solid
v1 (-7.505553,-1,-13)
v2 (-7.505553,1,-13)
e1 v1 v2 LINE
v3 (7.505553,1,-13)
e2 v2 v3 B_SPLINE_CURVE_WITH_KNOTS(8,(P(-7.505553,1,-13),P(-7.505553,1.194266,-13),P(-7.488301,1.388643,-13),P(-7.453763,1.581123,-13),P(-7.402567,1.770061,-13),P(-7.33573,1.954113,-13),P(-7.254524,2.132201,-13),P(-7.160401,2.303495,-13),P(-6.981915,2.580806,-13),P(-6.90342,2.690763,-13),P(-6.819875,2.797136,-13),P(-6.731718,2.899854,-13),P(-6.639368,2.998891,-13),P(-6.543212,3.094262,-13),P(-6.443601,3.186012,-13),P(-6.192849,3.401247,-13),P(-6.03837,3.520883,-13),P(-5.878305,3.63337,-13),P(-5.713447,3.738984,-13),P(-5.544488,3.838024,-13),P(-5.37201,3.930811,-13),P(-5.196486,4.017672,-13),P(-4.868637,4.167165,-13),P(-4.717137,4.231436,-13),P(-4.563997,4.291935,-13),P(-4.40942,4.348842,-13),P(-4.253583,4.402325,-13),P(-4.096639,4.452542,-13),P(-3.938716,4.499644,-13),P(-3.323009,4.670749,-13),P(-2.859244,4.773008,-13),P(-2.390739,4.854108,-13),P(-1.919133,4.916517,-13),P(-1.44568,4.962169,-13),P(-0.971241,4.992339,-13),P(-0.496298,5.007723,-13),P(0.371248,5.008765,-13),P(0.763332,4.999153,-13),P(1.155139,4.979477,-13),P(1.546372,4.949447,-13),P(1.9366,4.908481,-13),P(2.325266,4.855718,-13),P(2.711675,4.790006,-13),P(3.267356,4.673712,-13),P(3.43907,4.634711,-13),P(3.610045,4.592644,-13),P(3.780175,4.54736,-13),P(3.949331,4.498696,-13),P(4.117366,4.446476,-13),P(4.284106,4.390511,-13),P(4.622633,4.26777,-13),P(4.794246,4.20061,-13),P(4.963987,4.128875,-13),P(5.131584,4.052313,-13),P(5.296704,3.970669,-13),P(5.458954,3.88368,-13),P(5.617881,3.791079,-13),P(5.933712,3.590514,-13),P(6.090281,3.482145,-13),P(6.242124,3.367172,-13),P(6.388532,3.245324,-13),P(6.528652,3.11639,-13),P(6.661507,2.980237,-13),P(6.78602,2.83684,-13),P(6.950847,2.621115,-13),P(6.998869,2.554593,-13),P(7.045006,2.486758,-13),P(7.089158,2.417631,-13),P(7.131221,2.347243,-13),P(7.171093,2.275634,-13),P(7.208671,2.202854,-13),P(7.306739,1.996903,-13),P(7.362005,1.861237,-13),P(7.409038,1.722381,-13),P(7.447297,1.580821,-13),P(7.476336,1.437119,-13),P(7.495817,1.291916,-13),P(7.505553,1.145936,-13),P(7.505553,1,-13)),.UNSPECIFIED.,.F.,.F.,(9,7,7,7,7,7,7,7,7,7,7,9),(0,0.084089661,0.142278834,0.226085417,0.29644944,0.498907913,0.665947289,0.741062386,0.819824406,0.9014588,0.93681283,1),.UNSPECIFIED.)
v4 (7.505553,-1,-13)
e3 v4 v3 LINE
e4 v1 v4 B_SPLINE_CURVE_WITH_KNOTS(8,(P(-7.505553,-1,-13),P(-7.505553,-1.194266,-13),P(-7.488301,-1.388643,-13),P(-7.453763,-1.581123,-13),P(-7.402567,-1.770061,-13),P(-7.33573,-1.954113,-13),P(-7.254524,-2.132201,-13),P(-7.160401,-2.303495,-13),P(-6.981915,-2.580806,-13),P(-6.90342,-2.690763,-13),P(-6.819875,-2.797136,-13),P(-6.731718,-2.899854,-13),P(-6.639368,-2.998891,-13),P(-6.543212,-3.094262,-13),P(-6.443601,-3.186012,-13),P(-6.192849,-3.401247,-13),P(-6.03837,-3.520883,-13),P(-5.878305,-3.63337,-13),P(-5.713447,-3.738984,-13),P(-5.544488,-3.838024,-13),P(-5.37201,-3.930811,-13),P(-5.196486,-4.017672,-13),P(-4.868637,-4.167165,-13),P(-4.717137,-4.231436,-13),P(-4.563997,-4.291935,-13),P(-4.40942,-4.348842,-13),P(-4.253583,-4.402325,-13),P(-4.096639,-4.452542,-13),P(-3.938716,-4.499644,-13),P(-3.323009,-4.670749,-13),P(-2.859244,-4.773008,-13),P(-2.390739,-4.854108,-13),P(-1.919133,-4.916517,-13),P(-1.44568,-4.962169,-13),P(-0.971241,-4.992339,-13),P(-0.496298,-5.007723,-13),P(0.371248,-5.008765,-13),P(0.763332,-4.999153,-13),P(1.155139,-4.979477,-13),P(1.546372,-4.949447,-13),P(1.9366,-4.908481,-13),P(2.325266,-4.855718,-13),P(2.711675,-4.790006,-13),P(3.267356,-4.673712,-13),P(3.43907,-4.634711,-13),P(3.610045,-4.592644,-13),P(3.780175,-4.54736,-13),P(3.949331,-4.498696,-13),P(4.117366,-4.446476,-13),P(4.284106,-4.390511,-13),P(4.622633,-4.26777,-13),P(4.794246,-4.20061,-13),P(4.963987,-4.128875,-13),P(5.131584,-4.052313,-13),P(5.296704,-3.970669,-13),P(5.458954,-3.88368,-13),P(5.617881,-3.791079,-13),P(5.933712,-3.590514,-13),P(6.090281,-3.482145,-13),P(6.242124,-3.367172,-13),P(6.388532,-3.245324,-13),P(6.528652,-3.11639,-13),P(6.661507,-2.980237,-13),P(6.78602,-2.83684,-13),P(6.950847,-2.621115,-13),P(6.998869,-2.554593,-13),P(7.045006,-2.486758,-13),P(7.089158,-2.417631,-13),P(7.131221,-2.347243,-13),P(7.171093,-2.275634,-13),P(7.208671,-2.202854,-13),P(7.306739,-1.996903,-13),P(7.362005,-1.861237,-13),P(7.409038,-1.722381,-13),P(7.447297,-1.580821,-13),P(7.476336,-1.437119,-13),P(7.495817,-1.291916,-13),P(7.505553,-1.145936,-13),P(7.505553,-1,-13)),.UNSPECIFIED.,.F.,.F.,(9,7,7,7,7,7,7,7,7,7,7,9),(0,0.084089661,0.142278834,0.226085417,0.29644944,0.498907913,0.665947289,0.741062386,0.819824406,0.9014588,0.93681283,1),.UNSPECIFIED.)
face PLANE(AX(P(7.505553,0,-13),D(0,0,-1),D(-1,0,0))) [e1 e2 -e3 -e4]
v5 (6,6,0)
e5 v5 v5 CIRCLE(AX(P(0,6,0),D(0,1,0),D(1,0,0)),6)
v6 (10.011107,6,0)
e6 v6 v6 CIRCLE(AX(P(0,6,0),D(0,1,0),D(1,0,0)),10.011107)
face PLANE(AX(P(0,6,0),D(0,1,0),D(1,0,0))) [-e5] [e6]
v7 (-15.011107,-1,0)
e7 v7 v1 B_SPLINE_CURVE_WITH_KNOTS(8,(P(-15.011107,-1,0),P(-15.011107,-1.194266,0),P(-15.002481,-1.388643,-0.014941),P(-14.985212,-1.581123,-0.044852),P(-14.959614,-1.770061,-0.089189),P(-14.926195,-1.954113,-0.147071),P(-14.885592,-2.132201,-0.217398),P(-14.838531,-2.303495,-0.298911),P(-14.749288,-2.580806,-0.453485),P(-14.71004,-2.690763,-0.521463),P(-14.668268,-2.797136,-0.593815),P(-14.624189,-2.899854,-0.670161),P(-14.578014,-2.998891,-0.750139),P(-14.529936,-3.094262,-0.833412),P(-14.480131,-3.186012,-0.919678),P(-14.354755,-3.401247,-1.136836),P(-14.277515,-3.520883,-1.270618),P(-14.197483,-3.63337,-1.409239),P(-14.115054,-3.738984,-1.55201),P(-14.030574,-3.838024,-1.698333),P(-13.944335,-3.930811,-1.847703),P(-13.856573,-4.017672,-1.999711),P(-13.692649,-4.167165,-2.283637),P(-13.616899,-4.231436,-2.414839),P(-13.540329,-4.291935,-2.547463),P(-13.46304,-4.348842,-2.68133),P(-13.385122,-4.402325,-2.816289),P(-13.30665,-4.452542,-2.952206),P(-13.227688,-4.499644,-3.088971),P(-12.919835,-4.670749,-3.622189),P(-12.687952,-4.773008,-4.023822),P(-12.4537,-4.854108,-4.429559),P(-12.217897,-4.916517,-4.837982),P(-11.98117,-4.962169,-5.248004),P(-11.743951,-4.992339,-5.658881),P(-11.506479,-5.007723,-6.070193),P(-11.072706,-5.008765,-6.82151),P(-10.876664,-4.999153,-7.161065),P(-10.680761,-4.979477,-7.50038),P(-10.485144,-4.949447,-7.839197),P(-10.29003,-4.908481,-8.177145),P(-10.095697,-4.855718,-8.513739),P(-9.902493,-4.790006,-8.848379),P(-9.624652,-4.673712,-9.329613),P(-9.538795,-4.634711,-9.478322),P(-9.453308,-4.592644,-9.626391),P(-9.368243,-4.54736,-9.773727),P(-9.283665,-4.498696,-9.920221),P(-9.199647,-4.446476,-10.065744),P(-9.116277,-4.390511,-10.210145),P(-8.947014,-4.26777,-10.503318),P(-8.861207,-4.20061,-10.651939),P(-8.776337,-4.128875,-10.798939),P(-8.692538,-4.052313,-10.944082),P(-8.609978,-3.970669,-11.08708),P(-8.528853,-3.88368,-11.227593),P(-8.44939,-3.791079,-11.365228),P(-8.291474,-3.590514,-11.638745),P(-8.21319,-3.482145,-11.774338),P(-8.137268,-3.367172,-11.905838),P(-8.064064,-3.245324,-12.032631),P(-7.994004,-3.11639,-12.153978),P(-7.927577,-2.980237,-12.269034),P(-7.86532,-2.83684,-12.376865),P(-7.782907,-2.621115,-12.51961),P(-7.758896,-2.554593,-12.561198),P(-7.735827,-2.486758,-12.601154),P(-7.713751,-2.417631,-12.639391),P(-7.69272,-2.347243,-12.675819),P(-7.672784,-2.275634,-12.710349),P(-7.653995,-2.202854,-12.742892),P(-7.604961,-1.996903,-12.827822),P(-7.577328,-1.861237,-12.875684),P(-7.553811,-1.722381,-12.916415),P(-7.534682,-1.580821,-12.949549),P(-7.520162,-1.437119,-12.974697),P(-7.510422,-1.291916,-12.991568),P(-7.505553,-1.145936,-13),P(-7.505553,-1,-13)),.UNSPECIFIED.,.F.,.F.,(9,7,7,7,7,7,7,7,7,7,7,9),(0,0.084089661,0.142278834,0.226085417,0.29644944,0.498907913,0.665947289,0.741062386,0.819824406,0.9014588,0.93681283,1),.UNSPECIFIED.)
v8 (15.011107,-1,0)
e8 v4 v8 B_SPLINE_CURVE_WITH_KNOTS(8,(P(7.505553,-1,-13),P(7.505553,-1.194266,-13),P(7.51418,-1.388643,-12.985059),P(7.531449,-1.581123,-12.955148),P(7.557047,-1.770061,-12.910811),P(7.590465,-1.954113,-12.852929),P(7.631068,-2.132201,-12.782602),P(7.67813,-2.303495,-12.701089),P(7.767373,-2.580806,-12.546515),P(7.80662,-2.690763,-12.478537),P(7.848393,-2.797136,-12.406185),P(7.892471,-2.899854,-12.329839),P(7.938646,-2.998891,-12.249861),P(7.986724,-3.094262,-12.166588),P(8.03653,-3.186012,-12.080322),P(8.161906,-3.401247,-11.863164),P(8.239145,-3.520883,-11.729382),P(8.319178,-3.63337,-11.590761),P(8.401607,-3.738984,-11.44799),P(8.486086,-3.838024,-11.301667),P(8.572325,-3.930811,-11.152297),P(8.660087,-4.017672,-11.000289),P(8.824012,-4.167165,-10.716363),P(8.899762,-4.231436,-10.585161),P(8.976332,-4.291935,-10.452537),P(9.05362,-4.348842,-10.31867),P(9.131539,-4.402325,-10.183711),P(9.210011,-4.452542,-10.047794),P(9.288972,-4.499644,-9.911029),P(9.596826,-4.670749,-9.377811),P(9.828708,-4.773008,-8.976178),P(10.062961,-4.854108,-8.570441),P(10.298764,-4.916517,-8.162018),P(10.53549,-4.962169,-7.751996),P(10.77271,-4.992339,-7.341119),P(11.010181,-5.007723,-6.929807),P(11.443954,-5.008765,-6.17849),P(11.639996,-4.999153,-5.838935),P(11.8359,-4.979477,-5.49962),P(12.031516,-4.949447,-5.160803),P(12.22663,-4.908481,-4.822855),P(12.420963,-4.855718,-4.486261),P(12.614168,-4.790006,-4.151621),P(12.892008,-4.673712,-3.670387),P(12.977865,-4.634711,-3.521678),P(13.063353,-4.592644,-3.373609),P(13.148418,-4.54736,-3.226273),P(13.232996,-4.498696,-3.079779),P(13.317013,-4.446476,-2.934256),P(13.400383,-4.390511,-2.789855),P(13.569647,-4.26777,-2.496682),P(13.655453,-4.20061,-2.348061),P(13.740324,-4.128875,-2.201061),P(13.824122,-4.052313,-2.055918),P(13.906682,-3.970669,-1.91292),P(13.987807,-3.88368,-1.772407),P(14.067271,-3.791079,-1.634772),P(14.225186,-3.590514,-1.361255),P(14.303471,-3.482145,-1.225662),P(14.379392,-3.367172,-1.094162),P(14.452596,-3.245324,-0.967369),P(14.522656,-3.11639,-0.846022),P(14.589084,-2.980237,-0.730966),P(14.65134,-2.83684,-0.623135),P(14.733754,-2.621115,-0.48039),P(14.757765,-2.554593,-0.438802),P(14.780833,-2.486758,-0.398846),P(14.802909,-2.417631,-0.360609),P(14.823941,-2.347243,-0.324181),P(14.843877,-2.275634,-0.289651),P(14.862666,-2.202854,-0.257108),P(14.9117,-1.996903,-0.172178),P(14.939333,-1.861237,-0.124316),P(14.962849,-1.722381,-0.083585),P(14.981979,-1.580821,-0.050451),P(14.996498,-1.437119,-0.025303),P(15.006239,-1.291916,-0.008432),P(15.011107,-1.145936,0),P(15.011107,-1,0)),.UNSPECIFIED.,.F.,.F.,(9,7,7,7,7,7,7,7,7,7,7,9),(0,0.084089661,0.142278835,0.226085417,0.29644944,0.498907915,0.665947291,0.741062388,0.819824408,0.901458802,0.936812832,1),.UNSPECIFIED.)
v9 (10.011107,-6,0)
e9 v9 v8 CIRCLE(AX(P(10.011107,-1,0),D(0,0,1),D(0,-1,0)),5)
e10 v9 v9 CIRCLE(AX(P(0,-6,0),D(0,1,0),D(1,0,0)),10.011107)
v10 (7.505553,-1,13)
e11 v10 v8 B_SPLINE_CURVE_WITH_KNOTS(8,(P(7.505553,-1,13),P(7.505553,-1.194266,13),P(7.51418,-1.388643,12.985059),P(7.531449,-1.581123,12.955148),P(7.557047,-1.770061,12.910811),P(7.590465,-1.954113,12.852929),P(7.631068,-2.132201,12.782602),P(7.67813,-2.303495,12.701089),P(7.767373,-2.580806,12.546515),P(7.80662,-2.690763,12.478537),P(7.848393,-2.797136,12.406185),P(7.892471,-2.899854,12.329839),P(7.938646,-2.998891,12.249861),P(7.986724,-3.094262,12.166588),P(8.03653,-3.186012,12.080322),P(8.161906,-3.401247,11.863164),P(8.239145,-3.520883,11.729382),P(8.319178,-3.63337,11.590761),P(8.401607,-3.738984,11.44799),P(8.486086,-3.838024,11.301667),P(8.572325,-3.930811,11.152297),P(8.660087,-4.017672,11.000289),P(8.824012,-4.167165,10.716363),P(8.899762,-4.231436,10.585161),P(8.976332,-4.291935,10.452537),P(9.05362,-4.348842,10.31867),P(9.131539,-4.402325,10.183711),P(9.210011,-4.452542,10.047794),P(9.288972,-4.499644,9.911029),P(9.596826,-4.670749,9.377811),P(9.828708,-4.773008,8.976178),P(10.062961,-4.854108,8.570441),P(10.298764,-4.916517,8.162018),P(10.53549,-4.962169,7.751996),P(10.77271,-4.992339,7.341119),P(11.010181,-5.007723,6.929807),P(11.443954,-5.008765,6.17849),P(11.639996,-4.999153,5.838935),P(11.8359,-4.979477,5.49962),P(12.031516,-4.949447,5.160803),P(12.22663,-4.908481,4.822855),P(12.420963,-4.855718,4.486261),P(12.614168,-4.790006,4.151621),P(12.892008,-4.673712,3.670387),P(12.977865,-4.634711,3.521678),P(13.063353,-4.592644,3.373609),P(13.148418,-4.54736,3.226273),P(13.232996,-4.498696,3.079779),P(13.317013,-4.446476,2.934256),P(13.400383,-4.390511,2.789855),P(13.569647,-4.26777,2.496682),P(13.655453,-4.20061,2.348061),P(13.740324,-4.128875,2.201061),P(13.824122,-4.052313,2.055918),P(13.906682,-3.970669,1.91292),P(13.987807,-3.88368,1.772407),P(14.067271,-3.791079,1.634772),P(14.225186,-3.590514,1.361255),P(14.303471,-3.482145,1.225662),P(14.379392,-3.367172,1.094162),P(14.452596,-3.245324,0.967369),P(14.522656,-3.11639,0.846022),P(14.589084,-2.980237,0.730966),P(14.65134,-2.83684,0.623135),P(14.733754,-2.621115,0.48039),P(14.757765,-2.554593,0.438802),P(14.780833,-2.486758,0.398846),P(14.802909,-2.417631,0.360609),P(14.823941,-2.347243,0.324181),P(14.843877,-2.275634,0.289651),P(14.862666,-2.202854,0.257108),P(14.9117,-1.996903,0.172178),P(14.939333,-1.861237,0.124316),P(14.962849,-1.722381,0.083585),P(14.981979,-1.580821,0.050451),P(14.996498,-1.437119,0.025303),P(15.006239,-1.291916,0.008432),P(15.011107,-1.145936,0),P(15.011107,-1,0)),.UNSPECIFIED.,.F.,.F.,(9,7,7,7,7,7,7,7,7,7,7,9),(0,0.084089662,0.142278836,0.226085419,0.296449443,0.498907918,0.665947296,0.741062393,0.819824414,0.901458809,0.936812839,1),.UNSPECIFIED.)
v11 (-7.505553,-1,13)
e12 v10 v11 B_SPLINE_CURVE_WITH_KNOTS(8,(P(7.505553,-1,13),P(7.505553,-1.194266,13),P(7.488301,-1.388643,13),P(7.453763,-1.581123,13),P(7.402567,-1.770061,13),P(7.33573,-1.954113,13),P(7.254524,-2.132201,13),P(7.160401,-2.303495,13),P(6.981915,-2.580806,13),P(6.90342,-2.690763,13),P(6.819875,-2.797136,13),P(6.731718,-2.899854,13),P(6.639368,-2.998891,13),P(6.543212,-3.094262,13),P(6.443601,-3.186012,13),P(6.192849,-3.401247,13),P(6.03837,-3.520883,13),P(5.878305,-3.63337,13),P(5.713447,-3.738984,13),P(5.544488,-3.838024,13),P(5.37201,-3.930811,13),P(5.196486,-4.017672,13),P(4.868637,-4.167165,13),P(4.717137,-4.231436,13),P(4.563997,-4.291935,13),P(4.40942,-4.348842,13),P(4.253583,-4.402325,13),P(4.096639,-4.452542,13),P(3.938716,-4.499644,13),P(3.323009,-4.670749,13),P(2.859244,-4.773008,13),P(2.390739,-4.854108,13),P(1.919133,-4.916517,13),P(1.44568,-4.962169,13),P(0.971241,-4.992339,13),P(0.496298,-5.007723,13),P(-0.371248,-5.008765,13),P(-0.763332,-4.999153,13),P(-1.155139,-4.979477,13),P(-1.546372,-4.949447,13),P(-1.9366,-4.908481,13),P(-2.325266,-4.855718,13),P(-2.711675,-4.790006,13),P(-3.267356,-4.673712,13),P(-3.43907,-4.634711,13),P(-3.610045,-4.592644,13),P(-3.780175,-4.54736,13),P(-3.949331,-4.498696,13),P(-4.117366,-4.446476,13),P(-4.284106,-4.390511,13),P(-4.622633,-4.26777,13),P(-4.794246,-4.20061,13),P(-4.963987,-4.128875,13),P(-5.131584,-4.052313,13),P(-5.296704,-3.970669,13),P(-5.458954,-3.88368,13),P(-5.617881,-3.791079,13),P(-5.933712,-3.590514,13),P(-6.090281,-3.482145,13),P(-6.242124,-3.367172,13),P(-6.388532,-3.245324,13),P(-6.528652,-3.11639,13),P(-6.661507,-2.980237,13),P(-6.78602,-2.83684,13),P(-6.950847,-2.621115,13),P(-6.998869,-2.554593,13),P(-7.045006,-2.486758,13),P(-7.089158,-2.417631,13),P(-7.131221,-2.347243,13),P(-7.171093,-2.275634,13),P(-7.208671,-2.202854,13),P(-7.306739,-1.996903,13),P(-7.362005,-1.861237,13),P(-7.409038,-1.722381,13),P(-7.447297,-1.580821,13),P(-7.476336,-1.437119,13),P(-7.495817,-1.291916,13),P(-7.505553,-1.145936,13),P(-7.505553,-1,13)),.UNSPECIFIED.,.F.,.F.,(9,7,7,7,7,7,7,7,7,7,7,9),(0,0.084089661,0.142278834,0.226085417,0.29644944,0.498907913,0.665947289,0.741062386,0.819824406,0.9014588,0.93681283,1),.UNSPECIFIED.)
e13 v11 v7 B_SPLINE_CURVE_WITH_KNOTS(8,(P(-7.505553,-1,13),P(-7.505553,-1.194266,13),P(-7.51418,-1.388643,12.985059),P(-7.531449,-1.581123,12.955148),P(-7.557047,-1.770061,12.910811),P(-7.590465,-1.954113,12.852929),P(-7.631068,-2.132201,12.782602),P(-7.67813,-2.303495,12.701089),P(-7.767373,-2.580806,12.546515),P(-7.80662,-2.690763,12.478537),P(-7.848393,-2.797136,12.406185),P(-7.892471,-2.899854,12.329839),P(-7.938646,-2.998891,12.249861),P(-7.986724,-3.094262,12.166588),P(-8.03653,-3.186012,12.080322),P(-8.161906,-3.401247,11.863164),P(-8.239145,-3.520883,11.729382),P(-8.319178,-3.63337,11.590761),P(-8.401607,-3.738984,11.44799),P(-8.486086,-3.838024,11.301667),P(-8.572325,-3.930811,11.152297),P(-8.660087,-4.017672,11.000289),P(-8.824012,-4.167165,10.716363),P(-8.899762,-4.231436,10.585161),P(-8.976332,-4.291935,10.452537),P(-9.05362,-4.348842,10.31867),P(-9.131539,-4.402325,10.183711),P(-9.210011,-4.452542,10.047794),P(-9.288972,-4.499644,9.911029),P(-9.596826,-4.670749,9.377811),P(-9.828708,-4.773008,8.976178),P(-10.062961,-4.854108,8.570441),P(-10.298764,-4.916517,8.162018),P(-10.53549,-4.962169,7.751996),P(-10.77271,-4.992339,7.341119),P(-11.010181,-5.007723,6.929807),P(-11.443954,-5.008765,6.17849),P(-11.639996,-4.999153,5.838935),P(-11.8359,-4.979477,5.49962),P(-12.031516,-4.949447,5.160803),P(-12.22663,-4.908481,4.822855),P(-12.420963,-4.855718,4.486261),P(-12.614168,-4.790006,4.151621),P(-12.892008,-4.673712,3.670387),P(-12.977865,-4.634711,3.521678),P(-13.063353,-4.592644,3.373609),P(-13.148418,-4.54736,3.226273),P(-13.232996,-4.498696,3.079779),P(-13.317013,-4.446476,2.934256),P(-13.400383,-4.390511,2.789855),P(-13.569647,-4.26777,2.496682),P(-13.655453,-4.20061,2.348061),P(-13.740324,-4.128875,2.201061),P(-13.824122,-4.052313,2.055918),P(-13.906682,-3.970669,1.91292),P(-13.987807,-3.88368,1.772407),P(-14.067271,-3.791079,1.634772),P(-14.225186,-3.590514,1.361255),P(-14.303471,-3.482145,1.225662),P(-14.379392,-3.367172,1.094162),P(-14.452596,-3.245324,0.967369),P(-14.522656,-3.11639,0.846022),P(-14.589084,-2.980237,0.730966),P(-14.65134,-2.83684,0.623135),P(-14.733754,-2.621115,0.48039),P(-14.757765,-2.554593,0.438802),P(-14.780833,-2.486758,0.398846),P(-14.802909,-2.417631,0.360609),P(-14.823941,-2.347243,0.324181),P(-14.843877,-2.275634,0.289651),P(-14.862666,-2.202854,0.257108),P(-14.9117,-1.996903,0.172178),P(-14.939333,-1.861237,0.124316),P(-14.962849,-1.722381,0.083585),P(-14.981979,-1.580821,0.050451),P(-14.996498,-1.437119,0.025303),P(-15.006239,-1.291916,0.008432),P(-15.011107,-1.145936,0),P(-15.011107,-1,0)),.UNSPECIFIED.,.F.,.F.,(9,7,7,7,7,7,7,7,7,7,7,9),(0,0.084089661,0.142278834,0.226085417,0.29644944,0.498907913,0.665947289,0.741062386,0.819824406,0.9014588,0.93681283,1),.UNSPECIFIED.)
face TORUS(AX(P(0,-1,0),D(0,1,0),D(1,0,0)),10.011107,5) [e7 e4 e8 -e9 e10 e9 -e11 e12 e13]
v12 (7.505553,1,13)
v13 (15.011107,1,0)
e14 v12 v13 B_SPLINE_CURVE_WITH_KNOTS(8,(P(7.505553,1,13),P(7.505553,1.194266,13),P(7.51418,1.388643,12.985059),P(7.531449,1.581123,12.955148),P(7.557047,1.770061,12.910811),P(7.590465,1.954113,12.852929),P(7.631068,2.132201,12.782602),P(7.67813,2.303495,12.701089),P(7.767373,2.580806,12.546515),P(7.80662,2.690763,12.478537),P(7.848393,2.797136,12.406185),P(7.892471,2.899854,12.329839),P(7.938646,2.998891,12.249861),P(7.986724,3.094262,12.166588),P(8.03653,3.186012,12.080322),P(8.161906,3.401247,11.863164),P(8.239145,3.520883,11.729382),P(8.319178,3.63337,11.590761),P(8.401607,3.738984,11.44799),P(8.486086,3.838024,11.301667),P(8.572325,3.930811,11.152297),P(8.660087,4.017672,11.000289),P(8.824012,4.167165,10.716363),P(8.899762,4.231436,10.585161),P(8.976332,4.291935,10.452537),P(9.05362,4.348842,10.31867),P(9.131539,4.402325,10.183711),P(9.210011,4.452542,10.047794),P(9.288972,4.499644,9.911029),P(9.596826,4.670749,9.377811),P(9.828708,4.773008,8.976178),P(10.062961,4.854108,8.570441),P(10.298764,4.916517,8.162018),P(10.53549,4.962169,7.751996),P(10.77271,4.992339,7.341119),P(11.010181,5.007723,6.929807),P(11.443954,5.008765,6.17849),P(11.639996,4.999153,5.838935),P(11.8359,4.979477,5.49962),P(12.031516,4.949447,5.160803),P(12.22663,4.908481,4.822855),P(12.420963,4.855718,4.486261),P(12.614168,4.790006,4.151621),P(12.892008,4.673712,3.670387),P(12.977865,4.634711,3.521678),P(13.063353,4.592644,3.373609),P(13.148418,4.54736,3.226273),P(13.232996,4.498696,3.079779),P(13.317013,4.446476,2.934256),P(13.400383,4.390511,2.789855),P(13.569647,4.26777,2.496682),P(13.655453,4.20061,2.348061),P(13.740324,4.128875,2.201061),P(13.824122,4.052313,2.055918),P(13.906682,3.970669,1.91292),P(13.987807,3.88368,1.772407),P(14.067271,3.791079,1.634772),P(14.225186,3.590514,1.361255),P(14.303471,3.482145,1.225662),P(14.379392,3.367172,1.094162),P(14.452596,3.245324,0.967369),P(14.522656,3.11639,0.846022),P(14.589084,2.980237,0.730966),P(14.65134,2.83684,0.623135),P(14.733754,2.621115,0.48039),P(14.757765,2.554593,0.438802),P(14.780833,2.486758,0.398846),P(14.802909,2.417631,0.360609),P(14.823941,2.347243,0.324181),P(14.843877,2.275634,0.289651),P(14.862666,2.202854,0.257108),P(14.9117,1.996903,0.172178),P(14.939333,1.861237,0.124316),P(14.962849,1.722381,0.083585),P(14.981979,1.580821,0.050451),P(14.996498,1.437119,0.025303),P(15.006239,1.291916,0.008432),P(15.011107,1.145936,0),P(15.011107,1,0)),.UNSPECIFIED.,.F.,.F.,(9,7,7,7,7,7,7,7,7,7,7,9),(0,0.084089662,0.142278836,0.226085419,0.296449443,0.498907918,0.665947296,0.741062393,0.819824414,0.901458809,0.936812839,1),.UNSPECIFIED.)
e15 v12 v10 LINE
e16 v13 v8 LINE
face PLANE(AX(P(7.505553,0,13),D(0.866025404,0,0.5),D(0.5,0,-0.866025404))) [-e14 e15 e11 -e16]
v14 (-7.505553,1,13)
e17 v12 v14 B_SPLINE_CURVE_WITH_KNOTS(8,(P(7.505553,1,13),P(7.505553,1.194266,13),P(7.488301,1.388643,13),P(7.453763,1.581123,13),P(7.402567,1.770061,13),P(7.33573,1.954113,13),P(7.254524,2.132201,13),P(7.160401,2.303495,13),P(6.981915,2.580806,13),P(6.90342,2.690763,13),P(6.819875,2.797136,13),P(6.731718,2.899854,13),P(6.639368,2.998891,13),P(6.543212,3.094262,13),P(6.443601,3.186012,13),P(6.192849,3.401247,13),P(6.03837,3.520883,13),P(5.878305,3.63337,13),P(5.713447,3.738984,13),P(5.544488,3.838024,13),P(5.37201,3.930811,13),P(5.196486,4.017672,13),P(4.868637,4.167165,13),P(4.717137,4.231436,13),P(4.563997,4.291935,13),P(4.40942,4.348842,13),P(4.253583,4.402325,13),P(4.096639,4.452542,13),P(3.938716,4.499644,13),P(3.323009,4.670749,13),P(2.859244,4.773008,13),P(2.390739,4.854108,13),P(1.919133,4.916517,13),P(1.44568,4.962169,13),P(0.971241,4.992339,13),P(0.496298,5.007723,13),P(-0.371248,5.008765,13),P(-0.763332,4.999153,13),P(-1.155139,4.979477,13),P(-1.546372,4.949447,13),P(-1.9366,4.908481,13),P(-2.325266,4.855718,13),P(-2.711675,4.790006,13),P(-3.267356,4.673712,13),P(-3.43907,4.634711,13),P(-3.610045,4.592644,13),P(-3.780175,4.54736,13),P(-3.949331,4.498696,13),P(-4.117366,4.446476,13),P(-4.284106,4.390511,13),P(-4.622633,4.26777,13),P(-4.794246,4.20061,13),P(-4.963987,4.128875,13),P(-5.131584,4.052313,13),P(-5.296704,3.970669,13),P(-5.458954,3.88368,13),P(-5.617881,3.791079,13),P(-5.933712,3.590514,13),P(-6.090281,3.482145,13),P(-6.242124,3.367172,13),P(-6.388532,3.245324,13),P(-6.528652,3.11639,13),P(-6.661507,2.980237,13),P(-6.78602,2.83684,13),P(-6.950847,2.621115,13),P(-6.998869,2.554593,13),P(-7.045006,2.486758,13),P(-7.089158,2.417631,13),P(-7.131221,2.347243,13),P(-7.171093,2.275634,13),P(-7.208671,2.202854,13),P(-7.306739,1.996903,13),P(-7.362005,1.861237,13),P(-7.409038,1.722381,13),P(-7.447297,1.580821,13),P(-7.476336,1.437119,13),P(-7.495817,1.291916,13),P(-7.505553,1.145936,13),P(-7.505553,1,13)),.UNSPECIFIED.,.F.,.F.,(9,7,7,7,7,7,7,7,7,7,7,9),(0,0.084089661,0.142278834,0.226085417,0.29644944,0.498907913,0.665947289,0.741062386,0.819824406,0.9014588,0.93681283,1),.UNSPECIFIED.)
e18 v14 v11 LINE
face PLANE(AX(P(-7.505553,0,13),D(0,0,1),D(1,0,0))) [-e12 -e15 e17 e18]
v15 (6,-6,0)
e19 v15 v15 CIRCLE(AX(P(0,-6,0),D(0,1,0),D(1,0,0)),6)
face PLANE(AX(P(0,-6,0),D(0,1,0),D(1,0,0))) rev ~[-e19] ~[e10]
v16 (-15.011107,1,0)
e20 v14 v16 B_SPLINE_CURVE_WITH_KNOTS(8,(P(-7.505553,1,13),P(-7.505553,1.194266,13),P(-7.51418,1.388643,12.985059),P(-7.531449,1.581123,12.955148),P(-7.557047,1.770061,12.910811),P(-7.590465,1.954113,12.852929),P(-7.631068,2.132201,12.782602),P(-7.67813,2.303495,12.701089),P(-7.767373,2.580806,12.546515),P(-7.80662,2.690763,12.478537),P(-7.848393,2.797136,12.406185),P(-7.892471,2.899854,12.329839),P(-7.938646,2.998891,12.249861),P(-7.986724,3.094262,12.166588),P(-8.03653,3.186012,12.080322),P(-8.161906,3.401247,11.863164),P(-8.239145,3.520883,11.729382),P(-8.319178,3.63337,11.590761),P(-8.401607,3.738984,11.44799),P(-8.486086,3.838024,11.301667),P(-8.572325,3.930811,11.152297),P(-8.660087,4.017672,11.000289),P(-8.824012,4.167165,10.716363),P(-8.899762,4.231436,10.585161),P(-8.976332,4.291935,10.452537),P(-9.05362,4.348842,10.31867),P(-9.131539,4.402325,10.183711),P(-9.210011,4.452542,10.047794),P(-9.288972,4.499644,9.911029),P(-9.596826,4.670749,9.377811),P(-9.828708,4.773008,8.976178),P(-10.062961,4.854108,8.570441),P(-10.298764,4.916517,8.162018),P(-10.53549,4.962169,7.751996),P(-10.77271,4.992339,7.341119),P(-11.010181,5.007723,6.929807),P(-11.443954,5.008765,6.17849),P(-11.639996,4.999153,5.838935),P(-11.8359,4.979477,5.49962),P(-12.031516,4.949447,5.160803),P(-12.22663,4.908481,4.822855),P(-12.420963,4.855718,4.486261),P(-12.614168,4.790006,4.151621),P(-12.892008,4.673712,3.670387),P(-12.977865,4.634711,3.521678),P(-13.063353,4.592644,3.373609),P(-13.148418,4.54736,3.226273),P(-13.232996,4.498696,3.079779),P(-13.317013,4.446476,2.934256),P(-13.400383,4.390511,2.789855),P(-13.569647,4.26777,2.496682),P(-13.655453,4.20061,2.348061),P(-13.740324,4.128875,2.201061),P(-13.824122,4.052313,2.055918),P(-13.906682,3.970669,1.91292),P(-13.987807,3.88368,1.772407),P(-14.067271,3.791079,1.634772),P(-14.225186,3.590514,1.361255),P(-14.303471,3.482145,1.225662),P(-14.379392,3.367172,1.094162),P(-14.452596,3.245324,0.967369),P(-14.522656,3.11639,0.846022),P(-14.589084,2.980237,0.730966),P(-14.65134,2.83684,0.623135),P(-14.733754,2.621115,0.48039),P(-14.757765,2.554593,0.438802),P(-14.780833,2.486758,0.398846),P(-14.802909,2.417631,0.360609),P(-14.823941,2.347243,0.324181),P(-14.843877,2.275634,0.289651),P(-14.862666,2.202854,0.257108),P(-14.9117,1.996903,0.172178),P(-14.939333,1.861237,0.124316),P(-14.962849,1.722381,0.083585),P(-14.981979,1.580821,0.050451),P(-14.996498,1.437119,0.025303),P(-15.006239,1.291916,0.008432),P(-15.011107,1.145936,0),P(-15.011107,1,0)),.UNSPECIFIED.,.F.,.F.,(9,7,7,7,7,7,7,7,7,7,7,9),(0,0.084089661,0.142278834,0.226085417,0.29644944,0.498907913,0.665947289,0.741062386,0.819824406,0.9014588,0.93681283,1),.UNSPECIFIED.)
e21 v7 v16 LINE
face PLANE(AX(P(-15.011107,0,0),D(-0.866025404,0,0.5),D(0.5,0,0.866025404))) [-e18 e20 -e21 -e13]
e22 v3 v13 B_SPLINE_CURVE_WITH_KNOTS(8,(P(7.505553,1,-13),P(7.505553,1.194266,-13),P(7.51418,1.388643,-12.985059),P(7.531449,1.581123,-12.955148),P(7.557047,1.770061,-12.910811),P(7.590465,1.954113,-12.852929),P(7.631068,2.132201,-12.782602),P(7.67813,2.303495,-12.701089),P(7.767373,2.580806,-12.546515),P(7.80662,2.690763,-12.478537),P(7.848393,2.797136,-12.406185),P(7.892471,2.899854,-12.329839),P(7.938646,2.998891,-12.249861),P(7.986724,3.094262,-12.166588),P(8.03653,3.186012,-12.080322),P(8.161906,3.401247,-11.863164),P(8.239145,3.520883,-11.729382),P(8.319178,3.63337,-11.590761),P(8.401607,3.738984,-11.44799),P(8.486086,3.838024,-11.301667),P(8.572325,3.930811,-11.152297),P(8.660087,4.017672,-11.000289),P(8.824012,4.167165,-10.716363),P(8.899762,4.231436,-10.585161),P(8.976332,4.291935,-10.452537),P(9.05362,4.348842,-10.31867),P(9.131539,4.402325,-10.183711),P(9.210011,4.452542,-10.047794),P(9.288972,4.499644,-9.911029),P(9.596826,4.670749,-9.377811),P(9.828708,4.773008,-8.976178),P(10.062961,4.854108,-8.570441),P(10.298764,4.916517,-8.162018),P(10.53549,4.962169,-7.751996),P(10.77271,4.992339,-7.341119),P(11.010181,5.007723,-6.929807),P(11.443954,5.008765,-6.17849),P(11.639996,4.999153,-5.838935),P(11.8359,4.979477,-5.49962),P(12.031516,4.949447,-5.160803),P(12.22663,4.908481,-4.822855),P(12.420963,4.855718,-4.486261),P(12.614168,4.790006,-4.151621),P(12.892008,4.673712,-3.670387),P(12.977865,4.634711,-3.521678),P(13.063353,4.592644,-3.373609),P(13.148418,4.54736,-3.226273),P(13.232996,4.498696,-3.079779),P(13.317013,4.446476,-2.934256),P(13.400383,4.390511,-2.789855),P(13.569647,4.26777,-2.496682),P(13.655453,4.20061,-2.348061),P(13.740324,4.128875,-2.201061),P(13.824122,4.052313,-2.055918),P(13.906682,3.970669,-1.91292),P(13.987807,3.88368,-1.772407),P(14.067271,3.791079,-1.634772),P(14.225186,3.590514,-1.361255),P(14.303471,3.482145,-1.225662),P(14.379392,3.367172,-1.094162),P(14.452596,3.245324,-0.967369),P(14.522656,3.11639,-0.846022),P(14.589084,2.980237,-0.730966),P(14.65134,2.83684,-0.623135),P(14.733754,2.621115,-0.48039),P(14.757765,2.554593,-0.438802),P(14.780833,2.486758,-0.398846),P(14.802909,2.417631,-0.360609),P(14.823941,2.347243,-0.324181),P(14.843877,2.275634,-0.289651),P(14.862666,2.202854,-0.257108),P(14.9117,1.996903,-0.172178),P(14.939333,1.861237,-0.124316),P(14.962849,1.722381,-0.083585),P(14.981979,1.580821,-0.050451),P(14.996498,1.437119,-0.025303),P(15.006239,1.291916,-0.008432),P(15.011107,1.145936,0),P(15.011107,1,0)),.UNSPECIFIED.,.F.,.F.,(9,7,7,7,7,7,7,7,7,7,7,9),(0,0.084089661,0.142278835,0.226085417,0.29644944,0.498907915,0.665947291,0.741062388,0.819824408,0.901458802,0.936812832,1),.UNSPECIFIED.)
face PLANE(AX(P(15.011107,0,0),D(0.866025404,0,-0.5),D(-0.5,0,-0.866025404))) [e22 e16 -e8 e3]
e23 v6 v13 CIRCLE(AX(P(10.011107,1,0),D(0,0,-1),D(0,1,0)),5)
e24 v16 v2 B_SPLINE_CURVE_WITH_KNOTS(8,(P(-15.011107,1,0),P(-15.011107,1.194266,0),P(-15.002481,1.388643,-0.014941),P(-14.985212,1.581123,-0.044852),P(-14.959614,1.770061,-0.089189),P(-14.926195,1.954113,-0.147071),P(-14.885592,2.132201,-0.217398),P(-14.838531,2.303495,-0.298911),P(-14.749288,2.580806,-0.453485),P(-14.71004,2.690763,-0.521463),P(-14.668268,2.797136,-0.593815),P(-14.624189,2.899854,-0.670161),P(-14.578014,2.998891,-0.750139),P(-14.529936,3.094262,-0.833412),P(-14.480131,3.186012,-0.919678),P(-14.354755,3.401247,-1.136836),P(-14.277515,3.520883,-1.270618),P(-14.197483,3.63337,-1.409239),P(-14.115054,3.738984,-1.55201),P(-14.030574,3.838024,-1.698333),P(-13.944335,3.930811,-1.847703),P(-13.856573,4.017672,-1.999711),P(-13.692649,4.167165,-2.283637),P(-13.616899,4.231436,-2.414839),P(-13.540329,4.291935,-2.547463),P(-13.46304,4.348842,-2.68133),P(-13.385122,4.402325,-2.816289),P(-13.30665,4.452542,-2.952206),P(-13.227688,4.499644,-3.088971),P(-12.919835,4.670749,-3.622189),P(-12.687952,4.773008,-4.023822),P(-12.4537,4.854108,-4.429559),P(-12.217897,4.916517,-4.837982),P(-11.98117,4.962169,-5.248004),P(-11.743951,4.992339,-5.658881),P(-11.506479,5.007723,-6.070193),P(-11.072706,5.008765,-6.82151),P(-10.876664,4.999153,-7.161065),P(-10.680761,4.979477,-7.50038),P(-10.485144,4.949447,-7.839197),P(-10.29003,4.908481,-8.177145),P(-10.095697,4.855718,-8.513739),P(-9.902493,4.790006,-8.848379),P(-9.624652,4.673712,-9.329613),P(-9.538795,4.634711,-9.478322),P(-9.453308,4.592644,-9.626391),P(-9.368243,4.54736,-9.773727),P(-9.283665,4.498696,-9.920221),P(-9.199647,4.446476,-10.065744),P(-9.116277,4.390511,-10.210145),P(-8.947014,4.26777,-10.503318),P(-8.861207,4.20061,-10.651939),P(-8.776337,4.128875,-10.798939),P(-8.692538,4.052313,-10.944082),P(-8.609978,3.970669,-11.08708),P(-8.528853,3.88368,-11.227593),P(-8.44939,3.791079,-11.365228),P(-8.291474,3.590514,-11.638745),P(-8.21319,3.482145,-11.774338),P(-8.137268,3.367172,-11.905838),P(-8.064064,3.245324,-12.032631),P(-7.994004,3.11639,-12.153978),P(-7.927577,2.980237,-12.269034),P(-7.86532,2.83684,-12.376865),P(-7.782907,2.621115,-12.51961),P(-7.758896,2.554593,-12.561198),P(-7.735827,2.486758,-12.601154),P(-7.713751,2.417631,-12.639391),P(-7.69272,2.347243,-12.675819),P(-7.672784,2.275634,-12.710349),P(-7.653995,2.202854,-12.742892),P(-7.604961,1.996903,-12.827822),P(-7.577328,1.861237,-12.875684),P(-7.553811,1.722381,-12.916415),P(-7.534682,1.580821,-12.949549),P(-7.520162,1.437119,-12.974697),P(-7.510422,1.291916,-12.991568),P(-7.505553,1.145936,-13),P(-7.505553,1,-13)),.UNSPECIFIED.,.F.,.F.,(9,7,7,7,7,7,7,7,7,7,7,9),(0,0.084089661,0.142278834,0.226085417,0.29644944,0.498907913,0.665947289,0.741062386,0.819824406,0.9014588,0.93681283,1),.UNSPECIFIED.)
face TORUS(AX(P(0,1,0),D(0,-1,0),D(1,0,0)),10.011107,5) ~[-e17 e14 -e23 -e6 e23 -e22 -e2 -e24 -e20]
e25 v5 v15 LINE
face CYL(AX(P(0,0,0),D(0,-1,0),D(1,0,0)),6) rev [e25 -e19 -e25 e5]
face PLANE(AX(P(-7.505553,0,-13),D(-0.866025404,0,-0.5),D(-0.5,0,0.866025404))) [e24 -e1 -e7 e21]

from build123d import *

# Parameters (mm, degrees)
SKETCH1_R           = 6
BOSS_EXTRUDE1_DEPTH = 6


with BuildPart() as part:
    # Sketch1 → Boss-Extrude1 (new body, symmetric)
    with BuildSketch(Plane(origin=(0, 0, 0), x_dir=(1, 0, 0), z_dir=(0, 1, 0))):
        Polygon((15.011106999, 0), (7.505553499, 13), (-7.505553499, 13), (-15.011106999, 0), (-7.505553499, -13), (7.505553499, -13), align=None)
        Circle(SKETCH1_R, mode=Mode.SUBTRACT)
    extrude(amount=BOSS_EXTRUDE1_DEPTH, both=True)

    # Sketch2 → Cut-Revolve1 (revolve, cut)
    with BuildSketch(Plane.XY):
        with BuildLine():
            Line((15.011106999, 1), (15.011106999, 6))
            Line((15.011106999, 6), (10.011106999, 6))
            ThreePointArc((10.011106999, 6), (13.546640905, 4.535533906), (15.011106999, 1))
        make_face()
    cut_revolve1 = revolve(axis=Axis((0, -5.449559113, 0), (0, 1, 0)), mode=Mode.SUBTRACT)

    # Mirror1: Cut-Revolve1 across plane
    add(cut_revolve1.mirror(Plane.ZX), mode=Mode.SUBTRACT)


solid = part.part
